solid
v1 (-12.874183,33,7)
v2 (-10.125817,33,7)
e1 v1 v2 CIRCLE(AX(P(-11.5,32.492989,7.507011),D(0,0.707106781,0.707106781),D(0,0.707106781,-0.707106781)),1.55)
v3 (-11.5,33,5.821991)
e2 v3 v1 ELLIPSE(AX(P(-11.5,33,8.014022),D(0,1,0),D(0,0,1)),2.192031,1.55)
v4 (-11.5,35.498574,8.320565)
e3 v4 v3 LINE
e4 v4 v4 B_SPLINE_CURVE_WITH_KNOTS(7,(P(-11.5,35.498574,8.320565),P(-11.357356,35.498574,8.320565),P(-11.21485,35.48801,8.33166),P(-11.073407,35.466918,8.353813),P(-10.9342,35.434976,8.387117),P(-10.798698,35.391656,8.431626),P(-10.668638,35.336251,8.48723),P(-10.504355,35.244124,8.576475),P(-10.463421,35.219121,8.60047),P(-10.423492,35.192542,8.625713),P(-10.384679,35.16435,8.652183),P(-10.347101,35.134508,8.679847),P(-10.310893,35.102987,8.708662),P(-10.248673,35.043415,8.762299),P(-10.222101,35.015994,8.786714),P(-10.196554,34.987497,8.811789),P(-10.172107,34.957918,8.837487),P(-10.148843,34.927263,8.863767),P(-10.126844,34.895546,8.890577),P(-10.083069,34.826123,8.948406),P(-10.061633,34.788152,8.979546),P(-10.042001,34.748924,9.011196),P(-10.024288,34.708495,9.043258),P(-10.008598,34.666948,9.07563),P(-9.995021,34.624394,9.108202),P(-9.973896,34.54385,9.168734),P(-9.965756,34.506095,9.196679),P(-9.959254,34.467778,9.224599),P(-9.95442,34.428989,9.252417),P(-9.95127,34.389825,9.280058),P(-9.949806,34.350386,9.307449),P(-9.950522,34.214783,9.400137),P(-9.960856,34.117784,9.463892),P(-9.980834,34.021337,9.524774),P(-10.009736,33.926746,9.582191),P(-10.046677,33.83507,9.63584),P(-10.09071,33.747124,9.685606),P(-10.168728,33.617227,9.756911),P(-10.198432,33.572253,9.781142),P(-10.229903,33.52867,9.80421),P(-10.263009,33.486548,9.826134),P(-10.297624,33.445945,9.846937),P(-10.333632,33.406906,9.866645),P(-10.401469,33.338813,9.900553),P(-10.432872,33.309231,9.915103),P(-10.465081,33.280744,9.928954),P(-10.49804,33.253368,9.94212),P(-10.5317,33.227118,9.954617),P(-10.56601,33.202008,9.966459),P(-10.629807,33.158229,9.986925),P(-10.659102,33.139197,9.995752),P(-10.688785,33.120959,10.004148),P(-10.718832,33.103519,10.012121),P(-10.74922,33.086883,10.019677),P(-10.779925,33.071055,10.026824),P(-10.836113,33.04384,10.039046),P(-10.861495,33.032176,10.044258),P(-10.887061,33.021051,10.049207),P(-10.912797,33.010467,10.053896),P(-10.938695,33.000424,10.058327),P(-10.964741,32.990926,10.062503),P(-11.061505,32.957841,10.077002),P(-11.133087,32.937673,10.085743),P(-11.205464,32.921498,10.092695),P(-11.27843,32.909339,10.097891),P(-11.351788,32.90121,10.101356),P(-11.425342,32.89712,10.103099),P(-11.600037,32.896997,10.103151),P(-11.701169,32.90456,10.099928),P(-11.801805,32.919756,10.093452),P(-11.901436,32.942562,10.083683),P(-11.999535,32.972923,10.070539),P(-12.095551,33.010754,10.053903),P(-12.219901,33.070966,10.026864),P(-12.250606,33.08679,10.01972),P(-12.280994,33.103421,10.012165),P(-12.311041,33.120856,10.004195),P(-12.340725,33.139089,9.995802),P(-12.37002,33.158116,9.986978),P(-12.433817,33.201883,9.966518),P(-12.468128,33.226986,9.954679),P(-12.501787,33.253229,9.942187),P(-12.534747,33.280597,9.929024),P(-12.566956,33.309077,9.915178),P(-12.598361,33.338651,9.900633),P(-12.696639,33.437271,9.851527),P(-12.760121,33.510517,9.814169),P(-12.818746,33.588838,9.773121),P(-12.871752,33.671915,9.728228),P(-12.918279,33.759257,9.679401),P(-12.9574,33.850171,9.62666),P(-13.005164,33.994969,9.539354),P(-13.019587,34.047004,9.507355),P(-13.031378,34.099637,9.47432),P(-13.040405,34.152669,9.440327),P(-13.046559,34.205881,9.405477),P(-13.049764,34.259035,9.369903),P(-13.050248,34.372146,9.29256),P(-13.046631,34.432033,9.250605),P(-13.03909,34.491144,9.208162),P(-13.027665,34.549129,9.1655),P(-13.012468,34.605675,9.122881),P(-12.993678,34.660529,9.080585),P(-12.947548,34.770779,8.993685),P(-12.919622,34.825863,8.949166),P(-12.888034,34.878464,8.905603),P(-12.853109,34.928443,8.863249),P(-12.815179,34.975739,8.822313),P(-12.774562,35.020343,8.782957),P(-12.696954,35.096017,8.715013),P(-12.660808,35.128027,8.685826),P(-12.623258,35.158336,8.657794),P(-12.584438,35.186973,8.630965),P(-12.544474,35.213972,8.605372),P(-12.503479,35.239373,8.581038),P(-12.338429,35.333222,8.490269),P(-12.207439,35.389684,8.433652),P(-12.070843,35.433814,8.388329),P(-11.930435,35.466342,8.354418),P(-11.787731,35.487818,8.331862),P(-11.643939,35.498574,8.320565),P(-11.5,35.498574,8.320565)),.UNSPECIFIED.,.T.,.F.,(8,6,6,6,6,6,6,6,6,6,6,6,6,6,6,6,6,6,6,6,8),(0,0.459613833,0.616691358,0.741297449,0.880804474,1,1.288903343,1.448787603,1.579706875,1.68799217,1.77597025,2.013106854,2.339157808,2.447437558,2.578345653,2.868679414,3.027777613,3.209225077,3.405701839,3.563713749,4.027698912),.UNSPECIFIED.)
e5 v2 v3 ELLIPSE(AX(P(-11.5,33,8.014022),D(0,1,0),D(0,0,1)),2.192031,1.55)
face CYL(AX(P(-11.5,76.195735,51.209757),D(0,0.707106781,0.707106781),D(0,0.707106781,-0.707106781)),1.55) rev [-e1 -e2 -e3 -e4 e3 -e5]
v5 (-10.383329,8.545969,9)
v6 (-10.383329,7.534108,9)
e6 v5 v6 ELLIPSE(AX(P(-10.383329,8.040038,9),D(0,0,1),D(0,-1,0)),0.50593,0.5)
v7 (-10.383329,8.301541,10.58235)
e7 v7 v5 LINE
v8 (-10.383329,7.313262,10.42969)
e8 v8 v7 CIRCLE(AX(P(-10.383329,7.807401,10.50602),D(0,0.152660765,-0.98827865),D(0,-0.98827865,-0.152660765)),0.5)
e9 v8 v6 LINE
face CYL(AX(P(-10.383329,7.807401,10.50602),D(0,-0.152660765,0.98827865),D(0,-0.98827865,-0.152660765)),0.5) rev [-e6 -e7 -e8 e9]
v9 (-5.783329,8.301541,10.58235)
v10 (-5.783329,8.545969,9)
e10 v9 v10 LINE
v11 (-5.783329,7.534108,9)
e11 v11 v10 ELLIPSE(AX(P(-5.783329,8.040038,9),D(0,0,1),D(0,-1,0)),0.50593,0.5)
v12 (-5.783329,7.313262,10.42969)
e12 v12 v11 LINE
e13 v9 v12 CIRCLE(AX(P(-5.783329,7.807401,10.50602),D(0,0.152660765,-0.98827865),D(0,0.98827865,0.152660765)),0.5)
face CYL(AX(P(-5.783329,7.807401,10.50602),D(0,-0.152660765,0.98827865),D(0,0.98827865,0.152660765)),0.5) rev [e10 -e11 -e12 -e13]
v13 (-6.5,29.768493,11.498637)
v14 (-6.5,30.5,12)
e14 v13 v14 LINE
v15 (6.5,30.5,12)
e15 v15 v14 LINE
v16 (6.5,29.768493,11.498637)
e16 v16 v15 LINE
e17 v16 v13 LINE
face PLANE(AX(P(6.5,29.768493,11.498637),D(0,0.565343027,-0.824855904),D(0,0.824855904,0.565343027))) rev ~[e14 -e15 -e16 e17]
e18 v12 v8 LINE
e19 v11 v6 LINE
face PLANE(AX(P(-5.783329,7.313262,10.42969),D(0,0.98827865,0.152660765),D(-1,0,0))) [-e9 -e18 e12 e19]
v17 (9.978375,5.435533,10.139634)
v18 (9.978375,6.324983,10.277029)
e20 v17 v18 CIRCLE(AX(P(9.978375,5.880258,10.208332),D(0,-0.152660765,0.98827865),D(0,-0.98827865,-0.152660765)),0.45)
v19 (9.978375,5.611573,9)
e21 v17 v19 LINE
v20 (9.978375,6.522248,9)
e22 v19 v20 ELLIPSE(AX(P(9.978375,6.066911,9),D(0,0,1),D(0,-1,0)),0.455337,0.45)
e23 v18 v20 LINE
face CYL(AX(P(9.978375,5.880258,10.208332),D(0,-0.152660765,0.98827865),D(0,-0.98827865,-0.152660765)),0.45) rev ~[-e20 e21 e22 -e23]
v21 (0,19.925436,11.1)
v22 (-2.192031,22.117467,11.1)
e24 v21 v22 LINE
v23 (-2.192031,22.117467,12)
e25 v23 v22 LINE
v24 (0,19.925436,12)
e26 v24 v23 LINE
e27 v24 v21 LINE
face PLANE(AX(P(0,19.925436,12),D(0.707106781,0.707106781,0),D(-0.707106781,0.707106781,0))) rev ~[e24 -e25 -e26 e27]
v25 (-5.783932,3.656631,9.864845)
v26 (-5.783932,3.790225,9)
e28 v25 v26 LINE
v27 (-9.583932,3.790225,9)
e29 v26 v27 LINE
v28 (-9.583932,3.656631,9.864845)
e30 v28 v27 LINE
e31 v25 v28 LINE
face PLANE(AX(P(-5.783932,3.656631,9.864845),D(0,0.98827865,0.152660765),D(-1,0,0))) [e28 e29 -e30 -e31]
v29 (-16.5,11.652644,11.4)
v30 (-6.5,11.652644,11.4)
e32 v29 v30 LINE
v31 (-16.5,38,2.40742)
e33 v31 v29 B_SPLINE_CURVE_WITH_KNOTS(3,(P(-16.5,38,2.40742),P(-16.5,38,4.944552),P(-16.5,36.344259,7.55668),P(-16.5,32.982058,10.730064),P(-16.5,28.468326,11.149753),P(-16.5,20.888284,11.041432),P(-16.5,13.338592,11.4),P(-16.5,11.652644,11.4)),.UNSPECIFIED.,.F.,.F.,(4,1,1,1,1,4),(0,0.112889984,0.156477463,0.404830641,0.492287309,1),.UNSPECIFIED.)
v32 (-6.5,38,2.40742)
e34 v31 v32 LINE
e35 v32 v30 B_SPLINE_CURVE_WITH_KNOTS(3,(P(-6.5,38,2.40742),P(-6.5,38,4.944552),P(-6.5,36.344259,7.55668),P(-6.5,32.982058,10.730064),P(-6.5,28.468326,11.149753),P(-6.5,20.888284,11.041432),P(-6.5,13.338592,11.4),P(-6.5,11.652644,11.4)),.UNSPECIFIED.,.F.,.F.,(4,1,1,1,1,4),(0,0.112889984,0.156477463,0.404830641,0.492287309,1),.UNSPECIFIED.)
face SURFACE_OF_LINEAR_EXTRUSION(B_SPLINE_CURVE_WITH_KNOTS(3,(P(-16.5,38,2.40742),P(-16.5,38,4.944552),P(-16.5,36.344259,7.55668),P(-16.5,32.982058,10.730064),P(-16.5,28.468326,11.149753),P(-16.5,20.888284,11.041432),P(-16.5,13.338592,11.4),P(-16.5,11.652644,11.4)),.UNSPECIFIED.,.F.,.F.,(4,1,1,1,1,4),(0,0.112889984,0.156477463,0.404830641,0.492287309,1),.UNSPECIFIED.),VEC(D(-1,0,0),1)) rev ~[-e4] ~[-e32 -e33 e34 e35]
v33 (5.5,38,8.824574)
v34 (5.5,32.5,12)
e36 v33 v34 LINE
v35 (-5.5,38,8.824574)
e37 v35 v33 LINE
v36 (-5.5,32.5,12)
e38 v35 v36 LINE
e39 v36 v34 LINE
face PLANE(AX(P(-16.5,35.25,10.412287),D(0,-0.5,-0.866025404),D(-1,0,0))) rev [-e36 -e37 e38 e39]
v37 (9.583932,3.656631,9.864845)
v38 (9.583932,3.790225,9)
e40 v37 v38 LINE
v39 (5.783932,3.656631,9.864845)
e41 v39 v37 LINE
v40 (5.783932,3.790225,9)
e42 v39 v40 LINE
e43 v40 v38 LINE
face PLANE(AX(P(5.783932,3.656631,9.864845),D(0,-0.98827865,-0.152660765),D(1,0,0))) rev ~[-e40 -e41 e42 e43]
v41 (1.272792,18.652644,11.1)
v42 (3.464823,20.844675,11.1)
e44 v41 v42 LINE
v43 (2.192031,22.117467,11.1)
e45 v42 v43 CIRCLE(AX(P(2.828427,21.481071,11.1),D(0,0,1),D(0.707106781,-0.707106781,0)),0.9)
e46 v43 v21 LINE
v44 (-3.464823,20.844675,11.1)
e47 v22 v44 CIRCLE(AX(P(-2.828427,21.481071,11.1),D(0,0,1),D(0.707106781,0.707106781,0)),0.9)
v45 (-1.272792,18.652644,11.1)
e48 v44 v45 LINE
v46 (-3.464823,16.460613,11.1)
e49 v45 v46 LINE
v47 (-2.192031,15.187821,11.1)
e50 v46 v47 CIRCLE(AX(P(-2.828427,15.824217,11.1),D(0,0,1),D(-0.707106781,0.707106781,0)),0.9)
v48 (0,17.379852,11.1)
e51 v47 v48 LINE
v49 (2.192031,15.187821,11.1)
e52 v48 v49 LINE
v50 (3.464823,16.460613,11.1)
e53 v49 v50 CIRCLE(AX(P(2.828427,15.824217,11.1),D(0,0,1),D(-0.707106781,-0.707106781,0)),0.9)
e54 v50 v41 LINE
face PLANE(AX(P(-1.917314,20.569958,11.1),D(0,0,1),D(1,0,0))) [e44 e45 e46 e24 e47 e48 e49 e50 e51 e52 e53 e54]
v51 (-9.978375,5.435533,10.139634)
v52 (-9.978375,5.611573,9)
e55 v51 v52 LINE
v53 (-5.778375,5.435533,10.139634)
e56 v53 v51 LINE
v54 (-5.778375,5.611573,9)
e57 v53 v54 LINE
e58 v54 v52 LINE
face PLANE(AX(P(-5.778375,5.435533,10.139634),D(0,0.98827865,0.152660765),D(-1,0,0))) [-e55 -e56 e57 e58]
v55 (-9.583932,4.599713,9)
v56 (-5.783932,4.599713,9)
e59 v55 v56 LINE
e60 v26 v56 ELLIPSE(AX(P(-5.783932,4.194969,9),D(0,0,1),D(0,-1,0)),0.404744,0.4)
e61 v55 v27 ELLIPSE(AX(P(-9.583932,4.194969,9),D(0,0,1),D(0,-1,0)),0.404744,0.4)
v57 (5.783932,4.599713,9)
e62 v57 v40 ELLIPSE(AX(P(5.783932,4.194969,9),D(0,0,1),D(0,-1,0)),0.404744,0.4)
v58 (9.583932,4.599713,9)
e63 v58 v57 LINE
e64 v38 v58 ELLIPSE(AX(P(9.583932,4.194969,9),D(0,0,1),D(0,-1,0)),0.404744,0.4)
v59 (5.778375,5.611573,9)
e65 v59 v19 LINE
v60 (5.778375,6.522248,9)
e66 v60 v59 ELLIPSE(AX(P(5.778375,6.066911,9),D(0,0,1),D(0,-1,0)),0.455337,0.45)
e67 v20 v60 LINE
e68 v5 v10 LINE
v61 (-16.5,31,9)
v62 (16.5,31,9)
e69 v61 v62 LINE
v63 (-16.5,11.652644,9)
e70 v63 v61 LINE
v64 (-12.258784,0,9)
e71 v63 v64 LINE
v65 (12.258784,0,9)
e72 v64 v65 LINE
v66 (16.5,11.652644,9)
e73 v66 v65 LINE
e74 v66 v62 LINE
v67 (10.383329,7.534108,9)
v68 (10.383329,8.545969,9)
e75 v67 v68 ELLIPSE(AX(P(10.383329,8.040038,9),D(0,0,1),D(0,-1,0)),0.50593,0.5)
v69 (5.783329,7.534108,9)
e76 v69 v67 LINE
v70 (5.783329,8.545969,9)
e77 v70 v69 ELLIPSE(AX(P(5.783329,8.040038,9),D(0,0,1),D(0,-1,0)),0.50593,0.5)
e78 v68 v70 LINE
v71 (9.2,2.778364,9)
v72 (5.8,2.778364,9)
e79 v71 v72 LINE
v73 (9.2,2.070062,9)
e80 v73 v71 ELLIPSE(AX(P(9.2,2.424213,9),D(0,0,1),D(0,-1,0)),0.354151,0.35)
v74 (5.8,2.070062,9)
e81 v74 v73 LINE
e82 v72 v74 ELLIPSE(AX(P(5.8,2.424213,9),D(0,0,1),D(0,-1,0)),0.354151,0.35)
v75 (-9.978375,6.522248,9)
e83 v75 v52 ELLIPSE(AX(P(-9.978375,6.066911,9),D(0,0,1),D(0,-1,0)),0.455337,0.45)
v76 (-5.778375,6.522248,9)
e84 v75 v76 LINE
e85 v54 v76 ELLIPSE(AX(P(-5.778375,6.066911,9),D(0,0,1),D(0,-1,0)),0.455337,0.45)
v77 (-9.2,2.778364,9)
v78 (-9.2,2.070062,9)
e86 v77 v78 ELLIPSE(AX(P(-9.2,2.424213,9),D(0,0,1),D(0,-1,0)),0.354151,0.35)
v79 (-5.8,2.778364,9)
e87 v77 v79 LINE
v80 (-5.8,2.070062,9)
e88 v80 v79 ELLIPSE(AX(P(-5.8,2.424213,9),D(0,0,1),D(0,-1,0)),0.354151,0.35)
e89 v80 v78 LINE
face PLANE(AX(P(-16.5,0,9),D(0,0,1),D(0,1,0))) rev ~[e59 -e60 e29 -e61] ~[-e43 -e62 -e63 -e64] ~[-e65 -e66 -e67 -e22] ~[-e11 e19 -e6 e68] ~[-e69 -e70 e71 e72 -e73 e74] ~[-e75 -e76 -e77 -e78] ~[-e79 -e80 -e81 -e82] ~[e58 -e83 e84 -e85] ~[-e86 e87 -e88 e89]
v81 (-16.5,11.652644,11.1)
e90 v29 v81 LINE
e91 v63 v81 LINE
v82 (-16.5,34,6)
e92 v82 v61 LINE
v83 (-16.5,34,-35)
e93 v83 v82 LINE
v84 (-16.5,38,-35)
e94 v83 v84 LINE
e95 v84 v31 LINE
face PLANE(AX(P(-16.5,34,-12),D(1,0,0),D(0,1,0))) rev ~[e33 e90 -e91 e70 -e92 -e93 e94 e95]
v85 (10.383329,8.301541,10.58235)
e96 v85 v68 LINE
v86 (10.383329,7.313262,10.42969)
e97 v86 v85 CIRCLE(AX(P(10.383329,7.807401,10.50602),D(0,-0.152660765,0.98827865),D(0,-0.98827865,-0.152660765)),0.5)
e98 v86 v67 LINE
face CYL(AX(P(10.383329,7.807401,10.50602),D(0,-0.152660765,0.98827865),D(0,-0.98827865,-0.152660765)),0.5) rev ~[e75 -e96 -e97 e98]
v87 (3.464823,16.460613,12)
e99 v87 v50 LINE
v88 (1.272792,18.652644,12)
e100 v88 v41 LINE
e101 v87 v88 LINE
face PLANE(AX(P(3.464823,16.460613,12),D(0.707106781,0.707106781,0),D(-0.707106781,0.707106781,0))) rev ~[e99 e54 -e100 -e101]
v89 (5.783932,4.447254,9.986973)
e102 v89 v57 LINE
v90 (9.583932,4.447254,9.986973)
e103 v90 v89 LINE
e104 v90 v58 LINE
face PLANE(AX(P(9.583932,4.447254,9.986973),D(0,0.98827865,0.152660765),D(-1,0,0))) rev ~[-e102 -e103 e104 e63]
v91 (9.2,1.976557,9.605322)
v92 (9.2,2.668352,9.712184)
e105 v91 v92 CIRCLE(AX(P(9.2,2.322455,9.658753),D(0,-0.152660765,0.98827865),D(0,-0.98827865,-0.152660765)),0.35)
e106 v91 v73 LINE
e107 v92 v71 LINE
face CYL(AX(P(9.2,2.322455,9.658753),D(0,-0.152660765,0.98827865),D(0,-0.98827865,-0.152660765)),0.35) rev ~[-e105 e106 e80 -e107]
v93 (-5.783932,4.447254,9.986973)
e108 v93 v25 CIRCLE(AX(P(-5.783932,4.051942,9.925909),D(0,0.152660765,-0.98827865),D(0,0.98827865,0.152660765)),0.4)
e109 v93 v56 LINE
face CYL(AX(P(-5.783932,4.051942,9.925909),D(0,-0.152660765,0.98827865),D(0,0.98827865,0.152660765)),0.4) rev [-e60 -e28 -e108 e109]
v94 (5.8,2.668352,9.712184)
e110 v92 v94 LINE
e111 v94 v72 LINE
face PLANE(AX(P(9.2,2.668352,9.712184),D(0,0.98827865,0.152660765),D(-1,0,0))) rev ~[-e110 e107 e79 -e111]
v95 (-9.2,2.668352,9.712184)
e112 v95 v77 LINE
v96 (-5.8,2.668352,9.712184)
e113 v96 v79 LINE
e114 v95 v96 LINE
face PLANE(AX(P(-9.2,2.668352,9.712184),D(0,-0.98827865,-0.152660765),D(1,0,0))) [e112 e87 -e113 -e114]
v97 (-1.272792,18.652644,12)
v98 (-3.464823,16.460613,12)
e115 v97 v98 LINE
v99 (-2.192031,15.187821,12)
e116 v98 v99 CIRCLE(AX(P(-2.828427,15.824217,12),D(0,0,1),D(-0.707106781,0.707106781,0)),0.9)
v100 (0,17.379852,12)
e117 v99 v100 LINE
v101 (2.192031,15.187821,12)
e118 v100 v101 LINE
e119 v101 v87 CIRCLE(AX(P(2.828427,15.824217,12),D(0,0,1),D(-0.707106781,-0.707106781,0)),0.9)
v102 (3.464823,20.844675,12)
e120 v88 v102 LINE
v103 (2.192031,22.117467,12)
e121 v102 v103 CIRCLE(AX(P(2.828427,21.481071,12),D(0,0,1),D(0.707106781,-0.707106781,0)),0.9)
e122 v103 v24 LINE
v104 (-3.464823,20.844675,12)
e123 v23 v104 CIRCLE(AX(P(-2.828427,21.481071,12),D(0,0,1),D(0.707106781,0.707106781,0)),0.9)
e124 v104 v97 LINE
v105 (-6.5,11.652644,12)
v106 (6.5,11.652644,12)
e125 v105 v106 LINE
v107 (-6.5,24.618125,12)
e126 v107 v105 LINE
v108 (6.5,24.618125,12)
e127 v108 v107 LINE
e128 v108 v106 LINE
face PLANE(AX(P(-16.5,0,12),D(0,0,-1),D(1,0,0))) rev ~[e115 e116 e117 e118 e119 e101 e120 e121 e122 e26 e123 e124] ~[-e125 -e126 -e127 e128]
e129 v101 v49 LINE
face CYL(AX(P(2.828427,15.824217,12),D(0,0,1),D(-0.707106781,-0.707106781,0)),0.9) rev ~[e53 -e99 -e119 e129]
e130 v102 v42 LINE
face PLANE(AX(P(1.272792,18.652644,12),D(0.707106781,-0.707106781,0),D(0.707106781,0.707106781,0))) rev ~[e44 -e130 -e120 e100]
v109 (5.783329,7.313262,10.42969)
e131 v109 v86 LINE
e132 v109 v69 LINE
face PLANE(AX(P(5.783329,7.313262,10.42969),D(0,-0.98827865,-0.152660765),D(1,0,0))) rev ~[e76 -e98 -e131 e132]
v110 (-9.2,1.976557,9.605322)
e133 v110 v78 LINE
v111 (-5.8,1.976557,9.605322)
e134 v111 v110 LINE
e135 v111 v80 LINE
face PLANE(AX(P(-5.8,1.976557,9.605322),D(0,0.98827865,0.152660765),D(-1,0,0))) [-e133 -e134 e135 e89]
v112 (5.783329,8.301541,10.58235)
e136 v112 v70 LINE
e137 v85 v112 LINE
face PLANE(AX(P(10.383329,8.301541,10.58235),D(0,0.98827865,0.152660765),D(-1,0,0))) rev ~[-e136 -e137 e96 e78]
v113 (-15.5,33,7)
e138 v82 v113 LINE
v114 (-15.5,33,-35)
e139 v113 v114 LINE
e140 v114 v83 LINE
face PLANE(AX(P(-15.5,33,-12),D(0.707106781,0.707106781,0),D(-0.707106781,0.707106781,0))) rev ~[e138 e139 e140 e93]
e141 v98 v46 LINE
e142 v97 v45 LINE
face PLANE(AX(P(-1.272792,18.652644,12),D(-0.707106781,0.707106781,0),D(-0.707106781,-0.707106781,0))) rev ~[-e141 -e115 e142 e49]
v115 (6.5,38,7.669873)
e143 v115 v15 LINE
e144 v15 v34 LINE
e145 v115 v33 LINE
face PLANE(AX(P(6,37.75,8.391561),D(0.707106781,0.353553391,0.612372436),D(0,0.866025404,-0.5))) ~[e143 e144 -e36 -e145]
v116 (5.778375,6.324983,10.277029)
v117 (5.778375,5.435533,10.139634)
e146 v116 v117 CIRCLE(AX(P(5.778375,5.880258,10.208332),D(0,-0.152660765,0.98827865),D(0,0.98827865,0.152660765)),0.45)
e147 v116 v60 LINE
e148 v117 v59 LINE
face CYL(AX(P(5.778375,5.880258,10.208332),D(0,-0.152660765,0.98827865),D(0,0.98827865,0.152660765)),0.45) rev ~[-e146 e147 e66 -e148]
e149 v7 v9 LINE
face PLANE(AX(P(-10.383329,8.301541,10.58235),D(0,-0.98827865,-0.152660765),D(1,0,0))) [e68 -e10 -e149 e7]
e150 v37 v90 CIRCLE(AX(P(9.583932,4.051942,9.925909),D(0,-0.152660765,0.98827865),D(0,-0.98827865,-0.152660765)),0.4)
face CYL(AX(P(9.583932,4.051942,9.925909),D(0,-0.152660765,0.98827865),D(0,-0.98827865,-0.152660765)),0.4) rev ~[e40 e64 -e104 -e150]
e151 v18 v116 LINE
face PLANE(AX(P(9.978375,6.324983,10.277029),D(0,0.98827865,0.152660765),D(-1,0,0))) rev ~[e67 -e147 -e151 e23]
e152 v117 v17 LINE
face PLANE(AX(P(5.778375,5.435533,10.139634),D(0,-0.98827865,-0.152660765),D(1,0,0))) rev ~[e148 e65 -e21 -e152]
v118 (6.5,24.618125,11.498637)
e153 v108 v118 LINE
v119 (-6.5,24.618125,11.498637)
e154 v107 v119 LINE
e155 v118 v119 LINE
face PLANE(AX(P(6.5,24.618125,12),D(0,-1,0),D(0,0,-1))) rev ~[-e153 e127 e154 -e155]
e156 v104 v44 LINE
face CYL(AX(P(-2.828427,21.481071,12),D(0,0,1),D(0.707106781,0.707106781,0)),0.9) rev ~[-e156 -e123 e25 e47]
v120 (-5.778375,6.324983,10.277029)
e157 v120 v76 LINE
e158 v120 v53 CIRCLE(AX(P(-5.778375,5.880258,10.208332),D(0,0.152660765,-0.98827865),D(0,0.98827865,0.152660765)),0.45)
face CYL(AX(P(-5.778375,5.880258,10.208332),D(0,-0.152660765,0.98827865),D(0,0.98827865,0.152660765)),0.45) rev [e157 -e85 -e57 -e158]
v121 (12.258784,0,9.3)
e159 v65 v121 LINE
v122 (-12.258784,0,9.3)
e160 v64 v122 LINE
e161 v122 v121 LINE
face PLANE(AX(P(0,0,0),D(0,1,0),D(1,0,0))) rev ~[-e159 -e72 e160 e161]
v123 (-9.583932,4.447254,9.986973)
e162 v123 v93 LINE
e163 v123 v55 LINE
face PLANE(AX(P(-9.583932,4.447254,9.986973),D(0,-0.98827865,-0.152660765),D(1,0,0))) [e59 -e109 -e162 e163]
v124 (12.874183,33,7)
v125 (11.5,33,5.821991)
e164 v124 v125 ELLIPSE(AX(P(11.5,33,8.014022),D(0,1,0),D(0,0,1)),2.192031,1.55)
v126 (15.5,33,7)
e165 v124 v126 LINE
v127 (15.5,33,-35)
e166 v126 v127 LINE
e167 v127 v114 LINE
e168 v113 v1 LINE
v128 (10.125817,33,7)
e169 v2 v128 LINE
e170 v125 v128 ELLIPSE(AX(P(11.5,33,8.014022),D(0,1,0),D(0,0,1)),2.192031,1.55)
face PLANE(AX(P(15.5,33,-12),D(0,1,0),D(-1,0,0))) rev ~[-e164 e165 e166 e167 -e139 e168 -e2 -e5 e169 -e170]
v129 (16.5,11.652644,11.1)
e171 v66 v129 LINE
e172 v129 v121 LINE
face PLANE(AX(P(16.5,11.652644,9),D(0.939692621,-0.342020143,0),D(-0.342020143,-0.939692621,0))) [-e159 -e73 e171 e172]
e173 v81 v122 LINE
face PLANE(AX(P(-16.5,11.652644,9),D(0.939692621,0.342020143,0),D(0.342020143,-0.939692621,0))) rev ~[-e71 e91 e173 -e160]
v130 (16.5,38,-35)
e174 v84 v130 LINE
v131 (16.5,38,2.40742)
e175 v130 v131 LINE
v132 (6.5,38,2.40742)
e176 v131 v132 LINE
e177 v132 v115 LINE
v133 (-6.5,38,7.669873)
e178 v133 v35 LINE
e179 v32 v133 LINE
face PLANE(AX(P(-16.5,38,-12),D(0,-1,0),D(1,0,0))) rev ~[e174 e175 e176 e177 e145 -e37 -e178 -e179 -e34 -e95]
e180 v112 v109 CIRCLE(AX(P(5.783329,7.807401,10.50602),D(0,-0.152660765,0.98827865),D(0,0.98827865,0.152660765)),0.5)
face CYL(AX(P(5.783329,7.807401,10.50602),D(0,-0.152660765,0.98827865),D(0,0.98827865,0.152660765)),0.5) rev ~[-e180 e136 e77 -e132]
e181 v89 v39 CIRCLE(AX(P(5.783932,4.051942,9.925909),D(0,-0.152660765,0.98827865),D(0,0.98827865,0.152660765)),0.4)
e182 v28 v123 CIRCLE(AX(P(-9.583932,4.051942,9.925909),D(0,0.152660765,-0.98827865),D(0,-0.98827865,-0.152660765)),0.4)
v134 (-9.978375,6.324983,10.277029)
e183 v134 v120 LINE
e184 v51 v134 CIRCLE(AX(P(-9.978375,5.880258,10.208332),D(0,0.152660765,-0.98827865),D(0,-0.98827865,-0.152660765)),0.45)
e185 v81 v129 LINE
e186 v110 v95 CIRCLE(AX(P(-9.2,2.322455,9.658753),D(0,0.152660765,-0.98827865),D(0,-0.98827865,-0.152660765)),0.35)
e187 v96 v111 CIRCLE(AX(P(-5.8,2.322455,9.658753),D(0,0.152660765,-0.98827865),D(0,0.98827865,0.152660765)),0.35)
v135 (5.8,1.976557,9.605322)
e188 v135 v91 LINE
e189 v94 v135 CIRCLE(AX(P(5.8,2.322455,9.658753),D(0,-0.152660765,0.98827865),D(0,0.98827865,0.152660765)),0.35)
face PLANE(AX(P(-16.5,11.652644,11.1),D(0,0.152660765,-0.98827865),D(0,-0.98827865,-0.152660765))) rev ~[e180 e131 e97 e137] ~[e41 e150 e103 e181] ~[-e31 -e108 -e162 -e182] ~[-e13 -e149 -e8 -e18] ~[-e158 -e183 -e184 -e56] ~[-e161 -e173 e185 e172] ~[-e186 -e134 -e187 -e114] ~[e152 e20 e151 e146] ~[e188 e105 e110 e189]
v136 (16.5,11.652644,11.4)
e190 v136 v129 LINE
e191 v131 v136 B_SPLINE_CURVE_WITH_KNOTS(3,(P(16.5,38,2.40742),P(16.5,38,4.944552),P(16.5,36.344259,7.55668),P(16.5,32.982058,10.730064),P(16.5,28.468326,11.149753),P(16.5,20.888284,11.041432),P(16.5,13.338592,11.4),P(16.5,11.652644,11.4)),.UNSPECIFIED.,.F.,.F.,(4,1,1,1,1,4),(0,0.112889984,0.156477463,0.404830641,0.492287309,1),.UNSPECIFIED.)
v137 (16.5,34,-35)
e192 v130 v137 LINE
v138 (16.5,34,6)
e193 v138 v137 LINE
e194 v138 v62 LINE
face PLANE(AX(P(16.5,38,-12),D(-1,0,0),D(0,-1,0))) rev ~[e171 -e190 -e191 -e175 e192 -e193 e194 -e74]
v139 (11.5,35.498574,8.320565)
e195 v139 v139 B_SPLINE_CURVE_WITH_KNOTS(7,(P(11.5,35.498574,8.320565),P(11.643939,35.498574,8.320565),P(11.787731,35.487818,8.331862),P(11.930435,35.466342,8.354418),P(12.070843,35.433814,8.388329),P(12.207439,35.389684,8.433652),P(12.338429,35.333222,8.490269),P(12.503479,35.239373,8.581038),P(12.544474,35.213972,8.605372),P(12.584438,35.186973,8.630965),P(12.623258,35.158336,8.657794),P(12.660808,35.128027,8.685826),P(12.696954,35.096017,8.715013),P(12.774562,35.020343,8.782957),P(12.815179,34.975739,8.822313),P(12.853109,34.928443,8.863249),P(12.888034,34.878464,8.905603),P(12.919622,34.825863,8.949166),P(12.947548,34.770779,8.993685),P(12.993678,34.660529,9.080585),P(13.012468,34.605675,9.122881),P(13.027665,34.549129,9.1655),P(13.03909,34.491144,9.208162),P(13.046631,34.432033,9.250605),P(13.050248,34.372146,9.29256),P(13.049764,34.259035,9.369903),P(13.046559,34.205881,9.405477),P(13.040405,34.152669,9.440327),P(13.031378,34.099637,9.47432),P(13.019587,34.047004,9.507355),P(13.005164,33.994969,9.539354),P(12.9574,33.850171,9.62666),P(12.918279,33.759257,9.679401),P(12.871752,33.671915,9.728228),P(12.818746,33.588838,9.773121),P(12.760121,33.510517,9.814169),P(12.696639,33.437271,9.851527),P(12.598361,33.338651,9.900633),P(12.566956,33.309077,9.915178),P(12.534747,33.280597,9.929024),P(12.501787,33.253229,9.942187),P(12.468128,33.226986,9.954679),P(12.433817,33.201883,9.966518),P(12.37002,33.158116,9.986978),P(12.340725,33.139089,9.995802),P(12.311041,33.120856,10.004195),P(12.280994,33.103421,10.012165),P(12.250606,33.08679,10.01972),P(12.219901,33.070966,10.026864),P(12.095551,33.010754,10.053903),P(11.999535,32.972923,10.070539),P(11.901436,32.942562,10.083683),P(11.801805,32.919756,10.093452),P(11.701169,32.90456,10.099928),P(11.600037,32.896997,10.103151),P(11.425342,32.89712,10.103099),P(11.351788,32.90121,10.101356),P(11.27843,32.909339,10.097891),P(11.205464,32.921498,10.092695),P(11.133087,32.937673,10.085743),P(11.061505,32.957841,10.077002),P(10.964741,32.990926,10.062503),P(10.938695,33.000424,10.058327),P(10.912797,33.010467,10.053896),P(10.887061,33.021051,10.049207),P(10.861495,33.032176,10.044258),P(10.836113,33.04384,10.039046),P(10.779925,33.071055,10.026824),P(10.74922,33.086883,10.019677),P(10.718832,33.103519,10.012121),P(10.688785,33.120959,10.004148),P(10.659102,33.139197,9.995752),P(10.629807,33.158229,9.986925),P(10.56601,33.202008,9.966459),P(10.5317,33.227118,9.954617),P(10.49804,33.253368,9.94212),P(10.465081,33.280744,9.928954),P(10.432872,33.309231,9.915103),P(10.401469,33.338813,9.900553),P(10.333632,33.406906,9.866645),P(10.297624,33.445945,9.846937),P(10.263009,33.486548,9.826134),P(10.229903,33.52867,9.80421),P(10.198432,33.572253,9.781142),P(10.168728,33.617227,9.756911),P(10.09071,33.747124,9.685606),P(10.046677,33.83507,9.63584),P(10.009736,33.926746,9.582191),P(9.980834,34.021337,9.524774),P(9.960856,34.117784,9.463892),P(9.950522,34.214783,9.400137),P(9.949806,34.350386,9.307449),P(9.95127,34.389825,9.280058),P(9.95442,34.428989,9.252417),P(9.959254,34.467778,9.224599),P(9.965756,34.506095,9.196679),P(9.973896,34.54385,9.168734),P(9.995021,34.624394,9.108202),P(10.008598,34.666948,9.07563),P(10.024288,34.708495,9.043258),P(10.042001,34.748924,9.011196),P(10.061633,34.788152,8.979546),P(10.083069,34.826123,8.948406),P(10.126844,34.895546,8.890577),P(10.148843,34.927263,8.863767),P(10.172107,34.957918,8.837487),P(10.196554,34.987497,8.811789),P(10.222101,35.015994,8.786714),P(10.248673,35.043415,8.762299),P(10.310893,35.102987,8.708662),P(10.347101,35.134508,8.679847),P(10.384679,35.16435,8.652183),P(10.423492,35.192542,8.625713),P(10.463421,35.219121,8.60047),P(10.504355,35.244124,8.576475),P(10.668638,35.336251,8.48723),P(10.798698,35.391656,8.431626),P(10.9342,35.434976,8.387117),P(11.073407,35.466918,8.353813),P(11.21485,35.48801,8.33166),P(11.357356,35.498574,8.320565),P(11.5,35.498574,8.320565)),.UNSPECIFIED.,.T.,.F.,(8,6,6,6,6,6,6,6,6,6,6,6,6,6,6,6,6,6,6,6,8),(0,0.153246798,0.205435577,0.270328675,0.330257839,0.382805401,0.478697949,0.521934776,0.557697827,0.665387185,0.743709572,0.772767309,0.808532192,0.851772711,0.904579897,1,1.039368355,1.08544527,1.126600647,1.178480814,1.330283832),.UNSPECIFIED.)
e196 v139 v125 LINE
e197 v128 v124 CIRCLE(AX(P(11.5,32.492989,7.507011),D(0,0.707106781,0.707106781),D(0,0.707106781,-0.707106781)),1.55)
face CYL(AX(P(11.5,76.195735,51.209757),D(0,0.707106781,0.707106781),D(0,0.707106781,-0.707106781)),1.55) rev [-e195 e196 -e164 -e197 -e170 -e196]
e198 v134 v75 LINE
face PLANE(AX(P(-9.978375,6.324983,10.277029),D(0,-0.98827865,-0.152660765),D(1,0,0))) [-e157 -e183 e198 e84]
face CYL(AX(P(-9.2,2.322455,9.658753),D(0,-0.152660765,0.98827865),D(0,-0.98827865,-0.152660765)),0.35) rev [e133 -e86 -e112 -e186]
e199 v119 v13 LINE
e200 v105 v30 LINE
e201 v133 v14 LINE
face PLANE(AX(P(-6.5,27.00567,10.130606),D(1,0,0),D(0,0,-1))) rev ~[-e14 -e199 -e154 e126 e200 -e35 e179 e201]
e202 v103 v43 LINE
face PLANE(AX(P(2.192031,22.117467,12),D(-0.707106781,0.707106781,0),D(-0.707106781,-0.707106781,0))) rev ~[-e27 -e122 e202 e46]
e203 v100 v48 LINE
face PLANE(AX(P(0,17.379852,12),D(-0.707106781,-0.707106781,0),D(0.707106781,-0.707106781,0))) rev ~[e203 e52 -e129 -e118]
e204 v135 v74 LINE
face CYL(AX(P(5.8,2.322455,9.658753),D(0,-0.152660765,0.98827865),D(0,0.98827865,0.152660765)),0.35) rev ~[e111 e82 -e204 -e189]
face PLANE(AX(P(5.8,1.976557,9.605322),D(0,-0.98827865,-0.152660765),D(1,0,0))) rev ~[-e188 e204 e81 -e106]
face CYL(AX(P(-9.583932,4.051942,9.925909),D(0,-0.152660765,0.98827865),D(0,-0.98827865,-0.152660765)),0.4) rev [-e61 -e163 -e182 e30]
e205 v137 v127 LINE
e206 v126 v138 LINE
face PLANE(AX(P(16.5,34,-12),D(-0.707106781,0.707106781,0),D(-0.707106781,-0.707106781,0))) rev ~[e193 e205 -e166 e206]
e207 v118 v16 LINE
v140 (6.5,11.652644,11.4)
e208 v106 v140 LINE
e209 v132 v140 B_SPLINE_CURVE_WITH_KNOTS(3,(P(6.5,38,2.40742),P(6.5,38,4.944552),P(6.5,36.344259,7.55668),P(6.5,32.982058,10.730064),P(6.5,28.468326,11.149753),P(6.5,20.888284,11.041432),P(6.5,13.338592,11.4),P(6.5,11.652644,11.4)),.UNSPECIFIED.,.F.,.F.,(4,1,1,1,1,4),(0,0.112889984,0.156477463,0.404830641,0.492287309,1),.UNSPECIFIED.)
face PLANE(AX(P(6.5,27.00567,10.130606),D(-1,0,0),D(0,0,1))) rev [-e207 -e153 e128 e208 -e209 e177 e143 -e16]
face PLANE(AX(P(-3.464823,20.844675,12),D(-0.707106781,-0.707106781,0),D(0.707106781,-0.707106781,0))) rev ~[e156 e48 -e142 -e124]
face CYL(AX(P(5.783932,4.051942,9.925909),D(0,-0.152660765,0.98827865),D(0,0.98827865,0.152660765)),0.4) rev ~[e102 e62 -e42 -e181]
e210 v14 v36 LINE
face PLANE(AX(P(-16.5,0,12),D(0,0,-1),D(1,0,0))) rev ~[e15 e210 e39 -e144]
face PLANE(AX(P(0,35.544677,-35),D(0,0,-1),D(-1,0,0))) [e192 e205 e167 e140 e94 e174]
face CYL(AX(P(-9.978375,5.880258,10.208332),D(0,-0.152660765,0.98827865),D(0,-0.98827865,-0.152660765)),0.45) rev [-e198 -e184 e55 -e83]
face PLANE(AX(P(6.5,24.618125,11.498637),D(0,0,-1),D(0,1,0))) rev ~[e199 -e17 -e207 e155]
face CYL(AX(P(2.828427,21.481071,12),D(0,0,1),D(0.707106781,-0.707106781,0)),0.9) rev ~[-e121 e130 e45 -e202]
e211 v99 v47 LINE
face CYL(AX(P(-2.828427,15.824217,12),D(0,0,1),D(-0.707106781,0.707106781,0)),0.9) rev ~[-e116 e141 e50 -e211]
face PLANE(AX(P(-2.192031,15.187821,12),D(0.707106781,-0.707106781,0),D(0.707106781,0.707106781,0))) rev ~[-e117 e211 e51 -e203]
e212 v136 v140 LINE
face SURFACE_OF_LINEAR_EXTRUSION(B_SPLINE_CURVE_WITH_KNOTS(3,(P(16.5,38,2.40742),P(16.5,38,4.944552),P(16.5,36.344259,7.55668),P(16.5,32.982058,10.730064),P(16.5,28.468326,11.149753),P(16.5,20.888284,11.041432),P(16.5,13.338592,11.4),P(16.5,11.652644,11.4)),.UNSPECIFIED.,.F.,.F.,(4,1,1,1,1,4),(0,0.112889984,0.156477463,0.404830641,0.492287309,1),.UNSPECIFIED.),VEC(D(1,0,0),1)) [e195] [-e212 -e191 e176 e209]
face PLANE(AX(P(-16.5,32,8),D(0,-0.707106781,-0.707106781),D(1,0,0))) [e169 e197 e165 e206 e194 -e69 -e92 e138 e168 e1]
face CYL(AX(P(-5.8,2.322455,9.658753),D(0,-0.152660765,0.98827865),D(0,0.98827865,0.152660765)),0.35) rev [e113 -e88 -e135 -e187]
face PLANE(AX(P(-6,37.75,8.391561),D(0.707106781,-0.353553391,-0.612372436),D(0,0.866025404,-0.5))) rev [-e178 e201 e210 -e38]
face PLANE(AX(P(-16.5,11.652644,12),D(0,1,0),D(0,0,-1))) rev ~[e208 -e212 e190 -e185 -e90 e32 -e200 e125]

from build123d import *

# Parameters (mm, degrees)
SKETCH_1_W                = 33
SKETCH_1_H                = 24
EXTRUDE_1_DEPTH           = 38
SKETCH_2_W                = 21
SKETCH_2_H                = 33
CUT_EXTRUDE_1_DEPTH       = 35
CHAMFER_1_SIZE            = 5.5
CHAMFER_1_SIZE2           = 3.175426481
CHAMFER_2_SIZE            = 2
CHAMFER_3_SIZE            = 1
CUT_EXTRUDE_2_DEPTH       = 35
CUT_EXTRUDE_3_DEPTH       = 10
CUT_EXTRUDE_4_DEPTH       = 47.446205605
EXTRUDE_4_DEPTH           = 23
CHAMFER_4_SIZE            = 1
CUT_EXTRUDE_5_DEPTH       = 62.385572206
CUT_EXTRUDE_6_DEPTH       = 0.9
CUT_EXTRUDE_10_DEPTH      = 57.550862232
CUT_EXTRUDE_11_DEPTH      = 61.805016358
CUT_EXTRUDE_11_DEPTH_BACK = 61.805016358
SKETCH_11_R               = 1.55


with BuildPart() as part:
    # 草图1 → 凸台-拉伸1 (new body)
    with BuildSketch(Plane(origin=(0, 0, 0), x_dir=(1, 0, 0), z_dir=(0, 1, 0))):
        Rectangle(SKETCH_1_W, SKETCH_1_H)
    extrude(amount=EXTRUDE_1_DEPTH)

    # 草图2 → 切除-拉伸1 (cut)
    with BuildSketch(Plane.ZY.offset(16.5)):
        with Locations((-1.5, 16.5)):
            Rectangle(SKETCH_2_W, SKETCH_2_H)
    extrude(amount=-CUT_EXTRUDE_1_DEPTH, mode=Mode.SUBTRACT)

    # 倒角1
    chamfer_1_edges = [part.edges().sort_by_distance(p)[0] for p in [
        (0, 38, 12),
    ]]
    chamfer_1_side = [part.faces().sort_by_distance(p)[0] for p in [
        (0, 19, 12),
    ]]
    chamfer(chamfer_1_edges, length=CHAMFER_1_SIZE, length2=CHAMFER_1_SIZE2, reference=chamfer_1_side[0])

    # 倒角2
    chamfer_2_edges = [part.edges().sort_by_distance(p)[0] for p in [
        (0, 33, 9),
    ]]
    chamfer(chamfer_2_edges, length=CHAMFER_2_SIZE)

    # 倒角3
    chamfer_3_edges = [part.edges().sort_by_distance(p)[0] for p in [
        (-16.5, 33, -2.5),
        (16.5, 33, -2.5),
    ]]
    chamfer(chamfer_3_edges, length=CHAMFER_3_SIZE)

    # 草图3 → 切除-拉伸2 (cut)
    with BuildSketch(Plane.ZY.offset(16.5)):
        Polygon((12, 11.65264418), (11.1, 11.65264418), (9.3, 0), (12, 0), align=None)
    extrude(amount=-CUT_EXTRUDE_2_DEPTH, mode=Mode.SUBTRACT)

    # 草图4 → 切除-拉伸3 (cut)
    with BuildSketch(Plane.ZY.offset(16.5)):
        with BuildLine():
            Line((2.407420419, 38), (8.824573519, 38))
            Line((8.824573519, 38), (12, 32.5))
            Line((12, 32.5), (12, 11.65264418))
            Line((12, 11.65264418), (11.4, 11.65264418))
            add(Edge.make_bspline(
                [(2.407420419, 38), (4.944551671, 38), (7.556679946, 36.344258823), (10.730064424, 32.982057859), (11.149753025, 28.468325596), (11.041432106, 20.888283621), (11.4, 13.338591536), (11.4, 11.65264418)],
                knots=[0, 0, 0, 0, 0.112889984, 0.156477463, 0.404830641, 0.492287309, 1, 1, 1, 1], degree=3))
        make_face()
    cut_extrude_3 = extrude(amount=-CUT_EXTRUDE_3_DEPTH, mode=Mode.SUBTRACT)

    # 镜向1: 切除-拉伸3 across plane
    add(cut_extrude_3.mirror(Plane(origin=(0, 0, 0), x_dir=(0, 0, 1), z_dir=(1, 0, 0))), mode=Mode.SUBTRACT)

    # 草图6 → 切除-拉伸4 (cut, through all)
    with BuildSketch(Plane(origin=(0, 0, 9), x_dir=(-1, 0, 0), z_dir=(0, 0, -1))):
        Polygon((16.5, 11.65264418), (12.258784368, 0), (16.5, 0), align=None)
        Polygon((-12.258784368, 0), (-16.5, 0), (-16.5, 11.65264418), align=None)
    extrude(amount=-CUT_EXTRUDE_4_DEPTH, mode=Mode.SUBTRACT)

    # 草图8 → 凸台-拉伸4 (add)
    with BuildSketch(Plane(origin=(0, 0, -12), x_dir=(-1, 0, 0), z_dir=(0, 0, -1))):
        Polygon((-16.5, 38), (-16.5, 34), (-15.5, 33), (15.5, 33), (16.5, 34), (16.5, 38), align=None)
    extrude(amount=EXTRUDE_4_DEPTH)

    # 倒角4
    chamfer_4_edges = [part.edges().sort_by_distance(p)[0] for p in [
        (6.5, 35.25, 10.41228676),
        (-6.5, 35.25, 10.41228676),
    ]]
    chamfer(chamfer_4_edges, length=CHAMFER_4_SIZE)

    # 草图9 → 切除-拉伸5 (cut, through all)
    with BuildSketch(Plane(origin=(0, -1.403103783, 9.083260626), x_dir=(1, 0, 0), z_dir=(0, -0.15266076466219888, 0.9882786504487248))):
        with BuildLine():
            Line((-10.383328506, 9.819745111), (-5.783328506, 9.819745111))
            ThreePointArc((-5.783328506, 9.819745111), (-5.283328506, 9.319745111), (-5.783328506, 8.819745111))
            Line((-5.783328506, 8.819745111), (-10.383328506, 8.819745111))
            ThreePointArc((-10.383328506, 8.819745111), (-10.883328506, 9.319745111), (-10.383328506, 9.819745111))
        make_face()
        with BuildLine():
            Line((-9.978375247, 7.819745111), (-5.778375247, 7.819745111))
            ThreePointArc((-5.778375247, 7.819745111), (-5.328375247, 7.369745111), (-5.778375247, 6.919745111))
            Line((-5.778375247, 6.919745111), (-9.978375247, 6.919745111))
            ThreePointArc((-9.978375247, 6.919745111), (-10.428375247, 7.369745111), (-9.978375247, 7.819745111))
        make_face()
        with BuildLine():
            Line((-9.583932412, 5.919745111), (-5.783932412, 5.919745111))
            ThreePointArc((-5.783932412, 5.919745111), (-5.383932412, 5.519745111), (-5.783932412, 5.119745111))
            Line((-5.783932412, 5.119745111), (-9.583932412, 5.119745111))
            ThreePointArc((-9.583932412, 5.119745111), (-9.983932412, 5.519745111), (-9.583932412, 5.919745111))
        make_face()
        with BuildLine():
            Line((-9.2, 4.119745111), (-5.8, 4.119745111))
            ThreePointArc((-5.8, 4.119745111), (-5.45, 3.769745111), (-5.8, 3.419745111))
            Line((-5.8, 3.419745111), (-9.2, 3.419745111))
            ThreePointArc((-9.2, 3.419745111), (-9.55, 3.769745111), (-9.2, 4.119745111))
        make_face()
        with BuildLine():
            Line((9.2, 4.119745111), (5.8, 4.119745111))
            ThreePointArc((5.8, 4.119745111), (5.45, 3.769745111), (5.8, 3.419745111))
            Line((5.8, 3.419745111), (9.2, 3.419745111))
            ThreePointArc((9.2, 3.419745111), (9.55, 3.769745111), (9.2, 4.119745111))
        make_face()
        with BuildLine():
            Line((9.583932412, 5.919745111), (5.783932412, 5.919745111))
            ThreePointArc((5.783932412, 5.919745111), (5.383932412, 5.519745111), (5.783932412, 5.119745111))
            Line((5.783932412, 5.119745111), (9.583932412, 5.119745111))
            ThreePointArc((9.583932412, 5.119745111), (9.983932412, 5.519745111), (9.583932412, 5.919745111))
        make_face()
        with BuildLine():
            Line((9.978375247, 7.819745111), (5.778375247, 7.819745111))
            ThreePointArc((5.778375247, 7.819745111), (5.328375247, 7.369745111), (5.778375247, 6.919745111))
            Line((5.778375247, 6.919745111), (9.978375247, 6.919745111))
            ThreePointArc((9.978375247, 6.919745111), (10.428375247, 7.369745111), (9.978375247, 7.819745111))
        make_face()
        with BuildLine():
            Line((10.383328506, 9.819745111), (5.783328506, 9.819745111))
            ThreePointArc((5.783328506, 9.819745111), (5.283328506, 9.319745111), (5.783328506, 8.819745111))
            Line((5.783328506, 8.819745111), (10.383328506, 8.819745111))
            ThreePointArc((10.383328506, 8.819745111), (10.883328506, 9.319745111), (10.383328506, 9.819745111))
        make_face()
    extrude(amount=-CUT_EXTRUDE_5_DEPTH, mode=Mode.SUBTRACT)

    # 草图7 → 切除-拉伸6 (cut)
    with BuildSketch(Plane.XY.offset(12)):
        with BuildLine():
            Line((-3.464823228, 20.844675201), (-1.272792206, 18.65264418))
            Line((-1.272792206, 18.65264418), (0, 19.925436386))
            Line((0, 19.925436386), (-2.192031022, 22.117467408))
            ThreePointArc((-2.192031022, 22.117467408), (-3.464823228, 22.117467408), (-3.464823228, 20.844675201))
        make_face()
        with BuildLine():
            Line((2.192031022, 22.117467408), (0, 19.925436386))
            Line((0, 19.925436386), (1.272792206, 18.65264418))
            Line((1.272792206, 18.65264418), (3.464823228, 20.844675201))
            ThreePointArc((3.464823228, 20.844675201), (3.464823228, 22.117467408), (2.192031022, 22.117467408))
        make_face()
        Polygon((0, 19.925436386), (-1.272792206, 18.65264418), (0, 17.379851974), (1.272792206, 18.65264418), align=None)
        with BuildLine():
            Line((1.272792206, 18.65264418), (0, 17.379851974))
            Line((0, 17.379851974), (2.192031022, 15.187820952))
            ThreePointArc((2.192031022, 15.187820952), (3.464823228, 15.187820952), (3.464823228, 16.460613158))
            Line((3.464823228, 16.460613158), (1.272792206, 18.65264418))
        make_face()
        with BuildLine():
            Line((-1.272792206, 18.65264418), (-3.464823228, 16.460613158))
            ThreePointArc((-3.464823228, 16.460613158), (-3.464823228, 15.187820952), (-2.192031022, 15.187820952))
            Line((-2.192031022, 15.187820952), (0, 17.379851974))
            Line((0, 17.379851974), (-1.272792206, 18.65264418))
        make_face()
    extrude(amount=-CUT_EXTRUDE_6_DEPTH, mode=Mode.SUBTRACT)

    # 草图14 → 切除-拉伸10 (cut, through all)
    with BuildSketch(Plane(origin=(6.5, 0, 0), x_dir=(0, 0, -1), z_dir=(1, 0, 0))):
        Polygon((-12, 24.618124987), (-11.498636716, 24.618124987), (-11.498636716, 29.768492853), (-12, 30.5), align=None)
    extrude(amount=-CUT_EXTRUDE_10_DEPTH, mode=Mode.SUBTRACT)

    # 草图11 → 切除-拉伸11 (cut, two sides: drawn at the far end of the back side and taken through both)
    with BuildSketch(Plane(origin=(0, 20, 20), x_dir=(1, 0, 0), z_dir=(0, -0.7071067811865511, -0.707106781186544)).offset(-CUT_EXTRUDE_11_DEPTH_BACK)):
        with Locations(Location((-11.5, -17.667754382, 0), (0, 0, 270))):
            Circle(SKETCH_11_R)
        with Locations(Location((11.5, -17.667754382, 0), (0, 0, 270))):
            Circle(SKETCH_11_R)
    extrude(amount=CUT_EXTRUDE_11_DEPTH + CUT_EXTRUDE_11_DEPTH_BACK, mode=Mode.SUBTRACT)


solid = part.part
